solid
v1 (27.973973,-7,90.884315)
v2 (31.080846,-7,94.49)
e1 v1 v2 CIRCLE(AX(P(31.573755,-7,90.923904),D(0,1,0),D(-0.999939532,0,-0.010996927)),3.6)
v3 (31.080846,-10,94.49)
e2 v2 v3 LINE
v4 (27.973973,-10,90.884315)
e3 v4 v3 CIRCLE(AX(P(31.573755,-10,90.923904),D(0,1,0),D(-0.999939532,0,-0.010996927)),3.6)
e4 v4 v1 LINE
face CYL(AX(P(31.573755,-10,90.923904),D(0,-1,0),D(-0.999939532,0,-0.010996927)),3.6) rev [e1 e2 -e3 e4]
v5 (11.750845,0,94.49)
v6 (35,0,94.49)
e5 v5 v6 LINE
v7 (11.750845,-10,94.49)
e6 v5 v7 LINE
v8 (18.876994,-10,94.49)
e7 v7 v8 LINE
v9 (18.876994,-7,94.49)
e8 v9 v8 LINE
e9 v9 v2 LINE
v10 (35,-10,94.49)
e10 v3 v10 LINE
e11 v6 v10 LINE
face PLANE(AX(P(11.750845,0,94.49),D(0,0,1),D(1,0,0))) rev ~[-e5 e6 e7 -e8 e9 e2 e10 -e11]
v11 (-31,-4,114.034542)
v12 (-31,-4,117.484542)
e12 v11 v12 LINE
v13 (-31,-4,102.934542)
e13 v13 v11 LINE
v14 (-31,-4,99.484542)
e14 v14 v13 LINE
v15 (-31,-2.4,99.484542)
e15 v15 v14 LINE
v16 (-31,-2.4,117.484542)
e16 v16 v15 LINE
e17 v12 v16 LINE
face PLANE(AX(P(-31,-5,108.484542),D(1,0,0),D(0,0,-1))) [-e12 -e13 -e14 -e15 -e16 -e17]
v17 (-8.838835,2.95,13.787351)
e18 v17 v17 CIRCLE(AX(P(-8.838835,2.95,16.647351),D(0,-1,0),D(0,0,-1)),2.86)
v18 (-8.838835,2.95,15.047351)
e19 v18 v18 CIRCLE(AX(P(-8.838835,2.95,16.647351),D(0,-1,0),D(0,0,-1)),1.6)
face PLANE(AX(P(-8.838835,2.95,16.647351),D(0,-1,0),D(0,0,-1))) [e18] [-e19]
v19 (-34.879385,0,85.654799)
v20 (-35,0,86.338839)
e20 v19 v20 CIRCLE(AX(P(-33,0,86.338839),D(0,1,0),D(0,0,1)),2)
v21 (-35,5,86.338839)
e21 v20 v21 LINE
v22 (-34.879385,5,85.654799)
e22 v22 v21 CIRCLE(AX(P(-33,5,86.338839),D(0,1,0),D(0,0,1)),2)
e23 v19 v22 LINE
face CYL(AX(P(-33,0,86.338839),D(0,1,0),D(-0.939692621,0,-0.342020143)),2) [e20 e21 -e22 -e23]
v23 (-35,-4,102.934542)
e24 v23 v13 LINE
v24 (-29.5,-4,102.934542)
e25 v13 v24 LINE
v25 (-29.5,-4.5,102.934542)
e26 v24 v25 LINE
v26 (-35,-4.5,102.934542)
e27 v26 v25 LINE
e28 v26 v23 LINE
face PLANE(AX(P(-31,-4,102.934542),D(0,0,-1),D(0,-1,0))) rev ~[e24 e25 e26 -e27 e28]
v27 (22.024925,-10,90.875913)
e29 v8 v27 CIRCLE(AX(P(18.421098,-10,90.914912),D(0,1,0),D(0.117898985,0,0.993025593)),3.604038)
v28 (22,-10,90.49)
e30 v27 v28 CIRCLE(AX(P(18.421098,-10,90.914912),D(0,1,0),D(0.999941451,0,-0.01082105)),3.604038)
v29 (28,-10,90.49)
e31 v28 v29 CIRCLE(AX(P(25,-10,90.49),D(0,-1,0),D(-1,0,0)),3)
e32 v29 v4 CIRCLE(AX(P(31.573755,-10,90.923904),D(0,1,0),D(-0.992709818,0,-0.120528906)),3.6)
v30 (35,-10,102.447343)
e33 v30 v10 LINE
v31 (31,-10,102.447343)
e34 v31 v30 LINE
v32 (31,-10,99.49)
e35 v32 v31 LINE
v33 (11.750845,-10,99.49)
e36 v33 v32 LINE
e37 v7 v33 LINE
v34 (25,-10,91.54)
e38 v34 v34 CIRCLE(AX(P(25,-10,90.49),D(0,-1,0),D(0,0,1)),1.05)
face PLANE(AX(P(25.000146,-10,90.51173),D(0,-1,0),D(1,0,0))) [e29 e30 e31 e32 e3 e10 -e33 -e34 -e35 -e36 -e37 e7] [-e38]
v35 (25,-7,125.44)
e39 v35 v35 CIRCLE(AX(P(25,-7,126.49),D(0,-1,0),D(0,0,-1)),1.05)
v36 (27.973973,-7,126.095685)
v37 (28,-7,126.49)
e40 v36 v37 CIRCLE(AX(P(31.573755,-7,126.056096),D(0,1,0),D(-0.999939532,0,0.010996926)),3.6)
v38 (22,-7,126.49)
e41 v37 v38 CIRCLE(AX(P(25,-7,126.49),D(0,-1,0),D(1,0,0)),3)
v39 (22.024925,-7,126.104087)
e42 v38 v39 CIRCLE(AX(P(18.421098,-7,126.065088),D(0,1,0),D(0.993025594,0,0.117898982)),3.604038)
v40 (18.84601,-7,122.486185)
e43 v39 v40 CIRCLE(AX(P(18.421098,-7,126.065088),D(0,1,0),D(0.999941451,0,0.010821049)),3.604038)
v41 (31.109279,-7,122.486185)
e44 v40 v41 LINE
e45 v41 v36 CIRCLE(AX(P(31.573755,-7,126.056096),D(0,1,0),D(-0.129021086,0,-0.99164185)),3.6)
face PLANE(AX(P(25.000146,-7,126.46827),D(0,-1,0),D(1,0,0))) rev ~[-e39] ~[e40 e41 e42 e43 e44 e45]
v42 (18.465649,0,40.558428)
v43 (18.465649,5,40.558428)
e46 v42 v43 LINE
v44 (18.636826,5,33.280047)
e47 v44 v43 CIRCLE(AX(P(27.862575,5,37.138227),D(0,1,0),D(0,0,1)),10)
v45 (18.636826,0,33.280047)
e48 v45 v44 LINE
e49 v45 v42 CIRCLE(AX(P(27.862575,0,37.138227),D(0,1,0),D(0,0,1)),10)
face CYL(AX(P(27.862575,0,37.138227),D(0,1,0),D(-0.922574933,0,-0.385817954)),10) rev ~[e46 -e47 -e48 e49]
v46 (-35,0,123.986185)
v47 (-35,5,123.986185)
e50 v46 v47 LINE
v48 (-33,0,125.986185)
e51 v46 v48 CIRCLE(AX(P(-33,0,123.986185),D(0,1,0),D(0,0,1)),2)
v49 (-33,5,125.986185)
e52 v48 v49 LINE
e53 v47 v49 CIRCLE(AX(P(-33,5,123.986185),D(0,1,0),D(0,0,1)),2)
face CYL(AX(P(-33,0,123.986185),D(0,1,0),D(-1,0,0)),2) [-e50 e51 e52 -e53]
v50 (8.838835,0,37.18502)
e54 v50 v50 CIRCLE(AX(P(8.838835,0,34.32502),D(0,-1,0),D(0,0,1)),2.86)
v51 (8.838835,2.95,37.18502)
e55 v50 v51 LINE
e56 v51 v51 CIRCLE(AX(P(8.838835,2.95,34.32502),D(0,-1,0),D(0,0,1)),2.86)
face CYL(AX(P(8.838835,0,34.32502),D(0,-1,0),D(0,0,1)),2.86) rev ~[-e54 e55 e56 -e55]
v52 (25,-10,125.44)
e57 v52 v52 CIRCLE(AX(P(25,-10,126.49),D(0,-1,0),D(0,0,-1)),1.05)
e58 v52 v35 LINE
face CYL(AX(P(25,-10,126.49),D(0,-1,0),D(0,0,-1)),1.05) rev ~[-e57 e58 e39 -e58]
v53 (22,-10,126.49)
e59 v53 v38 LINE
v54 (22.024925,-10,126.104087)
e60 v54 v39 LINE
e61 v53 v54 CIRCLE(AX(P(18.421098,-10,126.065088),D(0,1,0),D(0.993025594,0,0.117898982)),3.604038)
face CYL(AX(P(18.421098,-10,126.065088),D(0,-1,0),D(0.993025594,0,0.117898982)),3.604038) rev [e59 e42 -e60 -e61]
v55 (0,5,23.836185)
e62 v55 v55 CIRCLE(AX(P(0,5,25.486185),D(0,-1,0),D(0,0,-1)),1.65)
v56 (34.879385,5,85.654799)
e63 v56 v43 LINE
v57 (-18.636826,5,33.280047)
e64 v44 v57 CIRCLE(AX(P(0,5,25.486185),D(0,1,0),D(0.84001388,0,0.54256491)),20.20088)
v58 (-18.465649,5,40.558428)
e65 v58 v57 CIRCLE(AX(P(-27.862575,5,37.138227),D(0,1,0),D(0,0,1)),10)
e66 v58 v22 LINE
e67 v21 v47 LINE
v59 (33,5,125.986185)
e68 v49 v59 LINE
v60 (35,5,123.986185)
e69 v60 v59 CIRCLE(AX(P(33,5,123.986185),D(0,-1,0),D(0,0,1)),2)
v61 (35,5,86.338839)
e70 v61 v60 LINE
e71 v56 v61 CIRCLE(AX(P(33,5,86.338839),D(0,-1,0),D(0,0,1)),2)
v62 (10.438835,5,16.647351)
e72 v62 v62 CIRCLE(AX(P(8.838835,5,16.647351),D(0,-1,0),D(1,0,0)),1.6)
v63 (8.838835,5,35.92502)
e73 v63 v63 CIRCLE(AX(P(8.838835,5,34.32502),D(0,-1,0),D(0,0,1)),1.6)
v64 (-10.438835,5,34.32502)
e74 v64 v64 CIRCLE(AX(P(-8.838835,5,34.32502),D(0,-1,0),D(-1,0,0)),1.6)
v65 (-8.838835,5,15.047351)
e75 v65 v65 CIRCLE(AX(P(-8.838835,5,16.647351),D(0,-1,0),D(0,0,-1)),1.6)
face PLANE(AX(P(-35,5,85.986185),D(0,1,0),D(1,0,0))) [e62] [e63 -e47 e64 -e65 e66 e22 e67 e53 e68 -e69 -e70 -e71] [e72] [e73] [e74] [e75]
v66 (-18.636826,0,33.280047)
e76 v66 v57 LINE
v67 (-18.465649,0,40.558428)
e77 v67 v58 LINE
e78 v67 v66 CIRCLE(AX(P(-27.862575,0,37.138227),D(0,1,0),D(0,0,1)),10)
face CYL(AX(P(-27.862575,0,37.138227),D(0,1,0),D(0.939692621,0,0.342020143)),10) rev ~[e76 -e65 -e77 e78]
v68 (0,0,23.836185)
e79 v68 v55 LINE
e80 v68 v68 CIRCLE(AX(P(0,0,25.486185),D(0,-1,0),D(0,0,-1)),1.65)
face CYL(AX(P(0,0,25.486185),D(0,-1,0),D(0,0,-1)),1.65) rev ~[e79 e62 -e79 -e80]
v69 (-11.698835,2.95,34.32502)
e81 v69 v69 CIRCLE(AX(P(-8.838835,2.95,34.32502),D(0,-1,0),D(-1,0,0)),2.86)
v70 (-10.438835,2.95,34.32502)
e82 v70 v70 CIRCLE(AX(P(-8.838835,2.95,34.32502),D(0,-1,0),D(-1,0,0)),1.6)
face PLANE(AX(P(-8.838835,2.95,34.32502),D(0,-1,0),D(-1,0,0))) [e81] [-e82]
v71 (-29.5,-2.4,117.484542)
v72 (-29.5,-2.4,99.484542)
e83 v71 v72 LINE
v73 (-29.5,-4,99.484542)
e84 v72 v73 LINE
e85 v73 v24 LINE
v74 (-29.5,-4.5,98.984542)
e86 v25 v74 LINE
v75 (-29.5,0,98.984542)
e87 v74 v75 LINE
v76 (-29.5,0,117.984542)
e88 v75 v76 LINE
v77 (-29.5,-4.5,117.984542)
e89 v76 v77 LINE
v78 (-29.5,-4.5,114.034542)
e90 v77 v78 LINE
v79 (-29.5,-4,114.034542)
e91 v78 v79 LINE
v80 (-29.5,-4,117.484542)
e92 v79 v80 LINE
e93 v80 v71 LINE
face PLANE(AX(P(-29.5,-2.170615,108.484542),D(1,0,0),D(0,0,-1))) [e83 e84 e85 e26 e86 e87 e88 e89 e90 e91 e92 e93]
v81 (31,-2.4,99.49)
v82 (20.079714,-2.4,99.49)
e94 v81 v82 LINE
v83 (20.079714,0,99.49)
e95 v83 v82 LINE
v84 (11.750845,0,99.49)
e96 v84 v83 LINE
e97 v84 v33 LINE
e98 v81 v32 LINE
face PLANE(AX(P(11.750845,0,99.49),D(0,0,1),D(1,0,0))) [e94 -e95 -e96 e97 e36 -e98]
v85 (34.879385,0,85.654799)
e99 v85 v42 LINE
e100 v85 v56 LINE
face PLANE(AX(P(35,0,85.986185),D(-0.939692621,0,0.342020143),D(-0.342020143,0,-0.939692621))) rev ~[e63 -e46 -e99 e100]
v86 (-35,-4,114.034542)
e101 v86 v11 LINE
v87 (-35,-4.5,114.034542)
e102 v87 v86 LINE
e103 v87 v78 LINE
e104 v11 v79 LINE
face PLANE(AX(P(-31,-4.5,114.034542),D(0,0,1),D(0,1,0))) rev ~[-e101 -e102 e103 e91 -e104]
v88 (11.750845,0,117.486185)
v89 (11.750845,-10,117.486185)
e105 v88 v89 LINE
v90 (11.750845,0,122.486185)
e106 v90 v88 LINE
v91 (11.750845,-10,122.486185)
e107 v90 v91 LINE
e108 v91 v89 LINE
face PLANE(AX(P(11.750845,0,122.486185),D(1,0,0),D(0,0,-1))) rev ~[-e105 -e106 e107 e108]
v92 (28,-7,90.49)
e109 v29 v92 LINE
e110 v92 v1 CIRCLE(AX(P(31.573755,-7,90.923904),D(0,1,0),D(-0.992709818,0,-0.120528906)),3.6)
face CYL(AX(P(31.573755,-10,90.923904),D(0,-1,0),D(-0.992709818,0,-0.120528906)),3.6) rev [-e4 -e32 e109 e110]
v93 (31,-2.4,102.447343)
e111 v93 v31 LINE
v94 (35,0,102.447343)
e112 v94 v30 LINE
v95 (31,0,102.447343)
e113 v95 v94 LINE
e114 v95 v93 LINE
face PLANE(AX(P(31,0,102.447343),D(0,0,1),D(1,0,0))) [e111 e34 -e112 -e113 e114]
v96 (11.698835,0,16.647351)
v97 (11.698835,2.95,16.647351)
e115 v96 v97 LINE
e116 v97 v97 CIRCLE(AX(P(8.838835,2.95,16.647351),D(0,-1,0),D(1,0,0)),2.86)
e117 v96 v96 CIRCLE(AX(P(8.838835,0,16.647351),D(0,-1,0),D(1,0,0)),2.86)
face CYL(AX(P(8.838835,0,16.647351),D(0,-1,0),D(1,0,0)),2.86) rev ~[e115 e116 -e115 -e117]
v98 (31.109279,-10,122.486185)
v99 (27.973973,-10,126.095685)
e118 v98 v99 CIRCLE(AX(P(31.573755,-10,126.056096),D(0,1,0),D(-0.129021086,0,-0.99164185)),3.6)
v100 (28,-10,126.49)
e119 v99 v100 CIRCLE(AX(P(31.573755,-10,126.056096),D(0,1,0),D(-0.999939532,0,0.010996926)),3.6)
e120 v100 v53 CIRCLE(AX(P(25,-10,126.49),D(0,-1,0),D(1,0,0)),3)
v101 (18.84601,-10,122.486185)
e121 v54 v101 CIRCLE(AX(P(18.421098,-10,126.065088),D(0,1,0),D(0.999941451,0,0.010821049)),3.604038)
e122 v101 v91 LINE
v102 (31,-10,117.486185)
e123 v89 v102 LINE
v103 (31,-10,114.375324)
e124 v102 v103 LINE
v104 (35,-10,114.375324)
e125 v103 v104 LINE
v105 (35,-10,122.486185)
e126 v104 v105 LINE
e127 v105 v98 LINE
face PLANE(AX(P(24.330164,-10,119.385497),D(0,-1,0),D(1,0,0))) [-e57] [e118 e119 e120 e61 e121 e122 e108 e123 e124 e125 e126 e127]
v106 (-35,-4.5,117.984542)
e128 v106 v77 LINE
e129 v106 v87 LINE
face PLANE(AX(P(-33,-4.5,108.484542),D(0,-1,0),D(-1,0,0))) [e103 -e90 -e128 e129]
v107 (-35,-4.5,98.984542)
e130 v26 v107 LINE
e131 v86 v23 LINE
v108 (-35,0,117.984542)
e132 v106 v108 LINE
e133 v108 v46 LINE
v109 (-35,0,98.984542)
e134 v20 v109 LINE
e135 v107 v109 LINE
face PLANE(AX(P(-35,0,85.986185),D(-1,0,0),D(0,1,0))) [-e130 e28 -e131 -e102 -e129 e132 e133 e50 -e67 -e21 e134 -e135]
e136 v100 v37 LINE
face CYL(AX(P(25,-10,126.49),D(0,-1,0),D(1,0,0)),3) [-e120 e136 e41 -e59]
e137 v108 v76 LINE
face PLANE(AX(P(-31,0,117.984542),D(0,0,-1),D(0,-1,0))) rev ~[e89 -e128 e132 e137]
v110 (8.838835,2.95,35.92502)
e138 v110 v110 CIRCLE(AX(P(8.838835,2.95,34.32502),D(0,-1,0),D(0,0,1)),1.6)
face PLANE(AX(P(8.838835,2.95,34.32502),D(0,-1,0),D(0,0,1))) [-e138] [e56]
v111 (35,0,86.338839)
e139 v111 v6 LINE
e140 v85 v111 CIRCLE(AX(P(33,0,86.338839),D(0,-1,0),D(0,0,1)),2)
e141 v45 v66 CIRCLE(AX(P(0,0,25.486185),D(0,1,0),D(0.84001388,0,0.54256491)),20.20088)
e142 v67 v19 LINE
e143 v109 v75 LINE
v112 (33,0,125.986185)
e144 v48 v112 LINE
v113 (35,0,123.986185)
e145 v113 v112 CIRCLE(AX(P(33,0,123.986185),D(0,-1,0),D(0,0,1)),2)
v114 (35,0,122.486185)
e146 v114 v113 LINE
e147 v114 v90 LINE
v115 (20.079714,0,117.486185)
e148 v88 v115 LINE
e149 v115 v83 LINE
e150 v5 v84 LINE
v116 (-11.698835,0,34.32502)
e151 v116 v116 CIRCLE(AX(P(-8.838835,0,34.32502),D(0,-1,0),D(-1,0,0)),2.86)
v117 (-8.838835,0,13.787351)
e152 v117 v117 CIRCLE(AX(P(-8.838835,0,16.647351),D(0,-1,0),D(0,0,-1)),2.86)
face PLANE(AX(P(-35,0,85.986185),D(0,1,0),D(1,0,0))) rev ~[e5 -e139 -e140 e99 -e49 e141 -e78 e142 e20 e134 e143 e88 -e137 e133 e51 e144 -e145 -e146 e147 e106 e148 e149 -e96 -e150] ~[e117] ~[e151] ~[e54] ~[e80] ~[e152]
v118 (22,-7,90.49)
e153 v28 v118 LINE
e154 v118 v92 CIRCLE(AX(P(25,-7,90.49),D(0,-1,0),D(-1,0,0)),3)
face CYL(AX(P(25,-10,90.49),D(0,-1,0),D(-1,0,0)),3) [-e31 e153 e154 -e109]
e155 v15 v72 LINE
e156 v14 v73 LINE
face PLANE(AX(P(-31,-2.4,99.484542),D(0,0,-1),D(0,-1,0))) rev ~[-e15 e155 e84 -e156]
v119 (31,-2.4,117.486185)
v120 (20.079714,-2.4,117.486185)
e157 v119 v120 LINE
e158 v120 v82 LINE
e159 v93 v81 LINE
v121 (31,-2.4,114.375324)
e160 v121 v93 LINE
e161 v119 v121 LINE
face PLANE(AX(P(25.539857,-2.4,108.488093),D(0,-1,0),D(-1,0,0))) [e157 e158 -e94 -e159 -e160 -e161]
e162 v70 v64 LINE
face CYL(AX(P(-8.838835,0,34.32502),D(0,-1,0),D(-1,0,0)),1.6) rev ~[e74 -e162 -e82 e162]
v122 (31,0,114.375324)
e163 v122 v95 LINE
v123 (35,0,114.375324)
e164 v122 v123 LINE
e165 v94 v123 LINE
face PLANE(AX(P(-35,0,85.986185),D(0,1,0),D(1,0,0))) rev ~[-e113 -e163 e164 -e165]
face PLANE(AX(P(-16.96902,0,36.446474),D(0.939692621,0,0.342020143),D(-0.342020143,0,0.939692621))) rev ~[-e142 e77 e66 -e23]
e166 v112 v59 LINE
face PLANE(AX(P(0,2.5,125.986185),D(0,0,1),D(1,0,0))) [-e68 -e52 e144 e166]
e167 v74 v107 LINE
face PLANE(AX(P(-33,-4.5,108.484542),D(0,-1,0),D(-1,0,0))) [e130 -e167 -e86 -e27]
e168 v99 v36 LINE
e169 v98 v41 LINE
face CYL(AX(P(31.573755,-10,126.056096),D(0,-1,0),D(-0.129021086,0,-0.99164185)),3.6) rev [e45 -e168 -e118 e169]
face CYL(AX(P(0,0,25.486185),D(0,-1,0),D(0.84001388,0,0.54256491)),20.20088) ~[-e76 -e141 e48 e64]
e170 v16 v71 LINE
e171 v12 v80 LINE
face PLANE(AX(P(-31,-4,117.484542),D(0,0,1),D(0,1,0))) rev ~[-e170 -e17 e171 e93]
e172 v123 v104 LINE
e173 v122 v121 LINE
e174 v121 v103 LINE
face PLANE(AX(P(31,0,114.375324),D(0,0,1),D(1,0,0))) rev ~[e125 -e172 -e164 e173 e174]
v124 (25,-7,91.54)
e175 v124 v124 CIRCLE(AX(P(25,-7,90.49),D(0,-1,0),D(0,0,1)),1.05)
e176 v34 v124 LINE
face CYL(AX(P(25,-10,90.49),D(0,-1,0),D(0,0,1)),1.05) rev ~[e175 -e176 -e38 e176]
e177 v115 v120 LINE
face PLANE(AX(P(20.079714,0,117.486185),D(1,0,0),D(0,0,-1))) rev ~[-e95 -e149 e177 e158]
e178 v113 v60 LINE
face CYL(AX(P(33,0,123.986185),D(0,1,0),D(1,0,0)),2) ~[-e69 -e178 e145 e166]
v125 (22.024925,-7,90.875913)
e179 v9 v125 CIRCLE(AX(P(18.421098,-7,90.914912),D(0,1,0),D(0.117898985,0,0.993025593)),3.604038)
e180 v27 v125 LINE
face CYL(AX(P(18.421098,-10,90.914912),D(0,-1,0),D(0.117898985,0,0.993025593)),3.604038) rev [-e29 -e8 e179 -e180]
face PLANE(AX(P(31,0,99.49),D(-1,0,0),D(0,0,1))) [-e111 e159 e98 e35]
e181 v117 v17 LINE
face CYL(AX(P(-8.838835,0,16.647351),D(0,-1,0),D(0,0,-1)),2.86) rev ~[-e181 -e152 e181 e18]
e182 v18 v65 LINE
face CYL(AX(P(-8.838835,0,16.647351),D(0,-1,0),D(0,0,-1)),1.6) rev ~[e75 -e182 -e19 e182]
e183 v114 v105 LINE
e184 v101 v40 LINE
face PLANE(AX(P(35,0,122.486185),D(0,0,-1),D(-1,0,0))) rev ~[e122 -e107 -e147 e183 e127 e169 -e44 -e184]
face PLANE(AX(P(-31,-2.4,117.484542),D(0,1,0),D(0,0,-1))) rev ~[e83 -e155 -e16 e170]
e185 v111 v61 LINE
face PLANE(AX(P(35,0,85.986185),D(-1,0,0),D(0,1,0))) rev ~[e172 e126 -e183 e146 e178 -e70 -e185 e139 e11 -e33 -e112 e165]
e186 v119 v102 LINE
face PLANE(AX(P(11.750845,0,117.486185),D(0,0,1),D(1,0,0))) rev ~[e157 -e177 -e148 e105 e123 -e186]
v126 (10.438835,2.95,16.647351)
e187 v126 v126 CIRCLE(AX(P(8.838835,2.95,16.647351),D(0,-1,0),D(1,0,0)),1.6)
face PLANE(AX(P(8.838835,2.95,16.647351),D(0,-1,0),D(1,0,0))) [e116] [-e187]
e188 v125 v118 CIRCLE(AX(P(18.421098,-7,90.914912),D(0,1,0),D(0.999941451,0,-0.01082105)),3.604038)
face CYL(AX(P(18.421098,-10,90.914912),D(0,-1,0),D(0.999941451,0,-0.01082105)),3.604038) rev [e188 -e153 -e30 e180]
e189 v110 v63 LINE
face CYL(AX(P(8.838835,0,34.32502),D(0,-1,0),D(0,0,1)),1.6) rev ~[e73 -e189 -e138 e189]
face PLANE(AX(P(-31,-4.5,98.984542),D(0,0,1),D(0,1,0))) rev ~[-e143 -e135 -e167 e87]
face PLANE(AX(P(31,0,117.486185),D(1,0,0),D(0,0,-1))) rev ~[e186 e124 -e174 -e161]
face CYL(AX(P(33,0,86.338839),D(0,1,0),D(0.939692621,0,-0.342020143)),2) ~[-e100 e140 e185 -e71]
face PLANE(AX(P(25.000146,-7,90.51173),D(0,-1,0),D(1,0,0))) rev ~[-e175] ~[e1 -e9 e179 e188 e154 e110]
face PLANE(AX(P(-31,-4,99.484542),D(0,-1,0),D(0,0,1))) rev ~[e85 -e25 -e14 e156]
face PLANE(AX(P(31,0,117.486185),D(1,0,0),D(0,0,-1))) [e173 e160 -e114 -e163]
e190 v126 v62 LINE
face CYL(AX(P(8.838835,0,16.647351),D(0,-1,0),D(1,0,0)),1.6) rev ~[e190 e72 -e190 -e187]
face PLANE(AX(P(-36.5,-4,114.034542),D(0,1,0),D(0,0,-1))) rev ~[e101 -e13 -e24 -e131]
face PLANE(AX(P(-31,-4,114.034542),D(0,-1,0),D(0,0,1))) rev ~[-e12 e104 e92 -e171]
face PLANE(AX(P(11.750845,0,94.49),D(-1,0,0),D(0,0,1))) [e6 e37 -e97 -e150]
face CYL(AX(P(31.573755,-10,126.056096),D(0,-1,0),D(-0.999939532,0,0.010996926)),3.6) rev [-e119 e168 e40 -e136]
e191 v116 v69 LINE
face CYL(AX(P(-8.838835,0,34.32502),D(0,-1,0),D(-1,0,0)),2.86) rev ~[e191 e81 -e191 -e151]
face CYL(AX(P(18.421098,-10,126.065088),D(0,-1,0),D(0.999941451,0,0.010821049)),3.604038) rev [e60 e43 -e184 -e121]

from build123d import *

# Parameters (mm, degrees)
BOSS_EXTRUDE4_DEPTH     = 5
SKETCH11_W              = 70
SKETCH11_H              = 5
BOSS_EXTRUDE5_DEPTH     = 40
FILLET1_R               = 10
FILLET2_R               = 10
SKETCH21_R              = 1.6
CUT_EXTRUDE1_DEPTH      = 131.853043071
CIRPATTERN1_COUNT       = 4
SKETCH22_R              = 2.86
CUT_EXTRUDE2_DEPTH      = 2.95
CIRPATTERN2_COUNT       = 4
FILLET4_R               = 2
SKETCH25_W              = 19
SKETCH25_H              = 10
BOSS_EXTRUDE6_DEPTH     = 4
CUT_EXTRUDE4_DEPTH      = 9.5
CUT_EXTRUDE4_DEPTH_BACK = 5.5
SKETCH26_W              = 11.1
SKETCH26_H              = 12
BOSS_EXTRUDE9_DEPTH     = 1.5
BOSS_EXTRUDE10_DEPTH    = 10
SKETCH35_W              = 10.92028557
SKETCH35_H              = 17.996185279
BOSS_EXTRUDE11_DEPTH    = 2.4
BOSS_EXTRUDE12_DEPTH    = 3
SKETCH37_R              = 1.05
CUT_EXTRUDE6_DEPTH      = 3
SKETCH39_R              = 1.65
CUT_EXTRUDE7_DEPTH      = 135.508959181
SKETCH40_W              = 4
SKETCH40_H              = 19
CUT_EXTRUDE8_DEPTH      = 5.5


with BuildPart() as part:
    # Sketch9 → Boss-Extrude4 (new body)
    with BuildSketch(Plane(origin=(0, 0, 0), x_dir=(1, 0, 0), z_dir=(0, 1, 0))):
        with BuildLine():
            Line((-35, -85.986185279), (35, -85.986185279))
            Line((35, -85.986185279), (16.969019665, -36.446473957))
            ThreePointArc((16.969019665, -36.446473957), (0, -5.285305191), (-16.969019665, -36.446473957))
            Line((-16.969019665, -36.446473957), (-35, -85.986185279))
        make_face()
    extrude(amount=BOSS_EXTRUDE4_DEPTH)

    # Sketch11 → Boss-Extrude5 (add)
    with BuildSketch(Plane.XY.offset(85.986185279)):
        with Locations((0, 2.5)):
            Rectangle(SKETCH11_W, SKETCH11_H)
    extrude(amount=BOSS_EXTRUDE5_DEPTH)

    # Fillet1
    fillet1_edges = [part.edges().sort_by_distance(p)[0] for p in [
        (-16.969019665, 2.5, 36.446473957),
    ]]
    fillet(fillet1_edges, radius=FILLET1_R)

    # Fillet2
    fillet2_edges = [part.edges().sort_by_distance(p)[0] for p in [
        (16.969019665, 2.5, 36.446473957),
    ]]
    fillet(fillet2_edges, radius=FILLET2_R)

    # Sketch21 → Cut-Extrude1 (cut, through all)
    with BuildSketch(Plane(origin=(0, 0, 0), x_dir=(-1, 0, 0), z_dir=(0, -1, 0))):
        with Locations(Location((8.838834765, -16.647350514, 0), (0, 0, 90))):
            Circle(SKETCH21_R)
    cut_extrude1 = extrude(amount=-CUT_EXTRUDE1_DEPTH, mode=Mode.SUBTRACT)

    # CirPattern1: Cut-Extrude1 ×4 about axis
    cirpattern1_axis = Axis((0, 0, 25.486185279), (0, 1, 0))
    for i in range(1, CIRPATTERN1_COUNT):
        add(cut_extrude1.rotate(cirpattern1_axis, i * 360 / CIRPATTERN1_COUNT), mode=Mode.SUBTRACT)

    # Sketch22 → Cut-Extrude2 (cut)
    with BuildSketch(Plane(origin=(0, 0, 0), x_dir=(-1, 0, 0), z_dir=(0, -1, 0))):
        with Locations(Location((8.838834765, -16.647350514, 0), (0, 0, 90))):
            Circle(SKETCH22_R)
    cut_extrude2 = extrude(amount=-CUT_EXTRUDE2_DEPTH, mode=Mode.SUBTRACT)

    # CirPattern2: Cut-Extrude2 ×4 about axis
    cirpattern2_axis = Axis((0, 0, 25.486185279), (0, 1, 0))
    for i in range(1, CIRPATTERN2_COUNT):
        add(cut_extrude2.rotate(cirpattern2_axis, i * 360 / CIRPATTERN2_COUNT), mode=Mode.SUBTRACT)

    # Fillet4
    fillet4_edges = [part.edges().sort_by_distance(p)[0] for p in [
        (35, 2.5, 125.986185279),
        (-35, 2.5, 125.986185279),
        (35, 2.5, 85.986185279),
        (-35, 2.5, 85.986185279),
    ]]
    fillet(fillet4_edges, radius=FILLET4_R)

    # Sketch25 → Boss-Extrude6 (add)
    with BuildSketch(Plane(origin=(-35, 0, -0.505457993), x_dir=(0, 0, -1), z_dir=(1, 0, 0))):
        with Locations((-108.99, -5)):
            Rectangle(SKETCH25_W, SKETCH25_H)
    extrude(amount=BOSS_EXTRUDE6_DEPTH)

    # Sketch26 → Cut-Extrude4 (cut, two sides: drawn at the far end of the back side and taken through both)
    with BuildSketch(Plane(origin=(-31, 0, -0.505457993), x_dir=(0, 0, -1), z_dir=(1, 0, 0)).offset(-CUT_EXTRUDE4_DEPTH_BACK)):
        with Locations((-108.99, -10)):
            Rectangle(SKETCH26_W, SKETCH26_H)
    extrude(amount=CUT_EXTRUDE4_DEPTH + CUT_EXTRUDE4_DEPTH_BACK, mode=Mode.SUBTRACT)

    # Sketch31 → Boss-Extrude9 (add)
    with BuildSketch(Plane(origin=(-31, 0, 0), x_dir=(0, 0, -1), z_dir=(1, 0, 0))):
        Polygon((-99.484542007, -4), (-102.934542007, -4), (-102.934542007, -4.5), (-98.984542007, -4.5), (-98.984542007, 0), (-117.984542007, 0), (-117.984542007, -4.5), (-114.034542007, -4.5), (-114.034542007, -4), (-117.484542007, -4), (-117.484542007, -2.4), (-99.484542007, -2.4), align=None)
    extrude(amount=BOSS_EXTRUDE9_DEPTH)

    # Sketch32 → Boss-Extrude10 (add)
    with BuildSketch(Plane.XZ):
        Polygon((31, 99.49), (31, 102.447343342), (35, 102.447343342), (35, 94.49), (20.07971443, 94.49), (11.750844515, 94.49), (11.750844515, 99.49), align=None)
        Polygon((31, 117.486185279), (31, 114.375323916), (35, 114.375323916), (35, 122.486185279), (20.07971443, 122.486185279), (11.750844515, 122.486185279), (11.750844515, 117.486185279), align=None)
    extrude(amount=BOSS_EXTRUDE10_DEPTH)

    # Sketch35 → Boss-Extrude11 (add)
    with BuildSketch(Plane(origin=(0, 0, 0), x_dir=(-1, 0, 0), z_dir=(0, -1, 0))):
        with Locations((-25.539857215, -108.48809264)):
            Rectangle(SKETCH35_W, SKETCH35_H)
    extrude(amount=BOSS_EXTRUDE11_DEPTH)

    # Sketch36 → Boss-Extrude12 (add)
    with BuildSketch(Plane.XZ.offset(10)):
        with BuildLine():
            ThreePointArc((22.024925014, 126.104087017), (24.995762953, 123.490002992), (27.97397303, 126.095684876))
            ThreePointArc((27.97397303, 126.095684876), (27.981571922, 126.293199831), (28, 126.49))
            ThreePointArc((28, 126.49), (25, 129.49), (22, 126.49))
            ThreePointArc((22, 126.49), (22.017642345, 126.297378059), (22.024925014, 126.104087017))
        make_face()
        with BuildLine():
            Line((18.846010194, 122.486185279), (31.109279434, 122.486185279))
            ThreePointArc((31.109279434, 122.486185279), (28.855912346, 123.695305938), (27.97397303, 126.095684876))
            ThreePointArc((27.97397303, 126.095684876), (24.995762953, 123.490002992), (22.024925014, 126.104087017))
            ThreePointArc((22.024925014, 126.104087017), (21.128493018, 123.68620066), (18.846010194, 122.486185279))
        make_face()
        with BuildLine():
            ThreePointArc((28, 90.49), (27.981571922, 90.686800169), (27.97397303, 90.884315124))
            ThreePointArc((27.97397303, 90.884315124), (24.995762953, 93.489997008), (22.024925014, 90.875912983))
            ThreePointArc((22.024925014, 90.875912983), (22.017642345, 90.682621941), (22, 90.49))
            ThreePointArc((22, 90.49), (25, 87.49), (28, 90.49))
        make_face()
        with BuildLine():
            ThreePointArc((27.97397303, 90.884315124), (28.855912346, 93.284694062), (31.109279434, 94.493814721))
            Line((31.109279434, 94.493814721), (18.846010194, 94.493814721))
            ThreePointArc((18.846010194, 94.493814721), (21.128493018, 93.29379934), (22.024925014, 90.875912983))
            ThreePointArc((22.024925014, 90.875912983), (24.995762953, 93.489997008), (27.97397303, 90.884315124))
        make_face()
    extrude(amount=-BOSS_EXTRUDE12_DEPTH)

    # Sketch37 → Cut-Extrude6 (cut)
    with BuildSketch(Plane(origin=(0, -10, 0), x_dir=(-1, 0, 0), z_dir=(0, -1, 0))):
        with Locations(Location((-25, -126.49, 0), (0, 0, 90))):
            Circle(SKETCH37_R)
        with Locations(Location((-25, -90.49, 0), (0, 0, 270))):
            Circle(SKETCH37_R)
    extrude(amount=-CUT_EXTRUDE6_DEPTH, mode=Mode.SUBTRACT)

    # Sketch39 → Cut-Extrude7 (cut, through all)
    with BuildSketch(Plane(origin=(0, 0, 0), x_dir=(-1, 0, 0), z_dir=(0, -1, 0))):
        with Locations(Location((0, -25.486185279, 0), (0, 0, 90))):
            Circle(SKETCH39_R)
    extrude(amount=-CUT_EXTRUDE7_DEPTH, mode=Mode.SUBTRACT)

    # Sketch40 → Cut-Extrude8 (cut)
    with BuildSketch(Plane(origin=(0, -10, 0), x_dir=(-1, 0, 0), z_dir=(0, -1, 0))):
        with Locations((33, -108.484542007)):
            Rectangle(SKETCH40_W, SKETCH40_H)
    extrude(amount=-CUT_EXTRUDE8_DEPTH, mode=Mode.SUBTRACT)


solid = part.part
